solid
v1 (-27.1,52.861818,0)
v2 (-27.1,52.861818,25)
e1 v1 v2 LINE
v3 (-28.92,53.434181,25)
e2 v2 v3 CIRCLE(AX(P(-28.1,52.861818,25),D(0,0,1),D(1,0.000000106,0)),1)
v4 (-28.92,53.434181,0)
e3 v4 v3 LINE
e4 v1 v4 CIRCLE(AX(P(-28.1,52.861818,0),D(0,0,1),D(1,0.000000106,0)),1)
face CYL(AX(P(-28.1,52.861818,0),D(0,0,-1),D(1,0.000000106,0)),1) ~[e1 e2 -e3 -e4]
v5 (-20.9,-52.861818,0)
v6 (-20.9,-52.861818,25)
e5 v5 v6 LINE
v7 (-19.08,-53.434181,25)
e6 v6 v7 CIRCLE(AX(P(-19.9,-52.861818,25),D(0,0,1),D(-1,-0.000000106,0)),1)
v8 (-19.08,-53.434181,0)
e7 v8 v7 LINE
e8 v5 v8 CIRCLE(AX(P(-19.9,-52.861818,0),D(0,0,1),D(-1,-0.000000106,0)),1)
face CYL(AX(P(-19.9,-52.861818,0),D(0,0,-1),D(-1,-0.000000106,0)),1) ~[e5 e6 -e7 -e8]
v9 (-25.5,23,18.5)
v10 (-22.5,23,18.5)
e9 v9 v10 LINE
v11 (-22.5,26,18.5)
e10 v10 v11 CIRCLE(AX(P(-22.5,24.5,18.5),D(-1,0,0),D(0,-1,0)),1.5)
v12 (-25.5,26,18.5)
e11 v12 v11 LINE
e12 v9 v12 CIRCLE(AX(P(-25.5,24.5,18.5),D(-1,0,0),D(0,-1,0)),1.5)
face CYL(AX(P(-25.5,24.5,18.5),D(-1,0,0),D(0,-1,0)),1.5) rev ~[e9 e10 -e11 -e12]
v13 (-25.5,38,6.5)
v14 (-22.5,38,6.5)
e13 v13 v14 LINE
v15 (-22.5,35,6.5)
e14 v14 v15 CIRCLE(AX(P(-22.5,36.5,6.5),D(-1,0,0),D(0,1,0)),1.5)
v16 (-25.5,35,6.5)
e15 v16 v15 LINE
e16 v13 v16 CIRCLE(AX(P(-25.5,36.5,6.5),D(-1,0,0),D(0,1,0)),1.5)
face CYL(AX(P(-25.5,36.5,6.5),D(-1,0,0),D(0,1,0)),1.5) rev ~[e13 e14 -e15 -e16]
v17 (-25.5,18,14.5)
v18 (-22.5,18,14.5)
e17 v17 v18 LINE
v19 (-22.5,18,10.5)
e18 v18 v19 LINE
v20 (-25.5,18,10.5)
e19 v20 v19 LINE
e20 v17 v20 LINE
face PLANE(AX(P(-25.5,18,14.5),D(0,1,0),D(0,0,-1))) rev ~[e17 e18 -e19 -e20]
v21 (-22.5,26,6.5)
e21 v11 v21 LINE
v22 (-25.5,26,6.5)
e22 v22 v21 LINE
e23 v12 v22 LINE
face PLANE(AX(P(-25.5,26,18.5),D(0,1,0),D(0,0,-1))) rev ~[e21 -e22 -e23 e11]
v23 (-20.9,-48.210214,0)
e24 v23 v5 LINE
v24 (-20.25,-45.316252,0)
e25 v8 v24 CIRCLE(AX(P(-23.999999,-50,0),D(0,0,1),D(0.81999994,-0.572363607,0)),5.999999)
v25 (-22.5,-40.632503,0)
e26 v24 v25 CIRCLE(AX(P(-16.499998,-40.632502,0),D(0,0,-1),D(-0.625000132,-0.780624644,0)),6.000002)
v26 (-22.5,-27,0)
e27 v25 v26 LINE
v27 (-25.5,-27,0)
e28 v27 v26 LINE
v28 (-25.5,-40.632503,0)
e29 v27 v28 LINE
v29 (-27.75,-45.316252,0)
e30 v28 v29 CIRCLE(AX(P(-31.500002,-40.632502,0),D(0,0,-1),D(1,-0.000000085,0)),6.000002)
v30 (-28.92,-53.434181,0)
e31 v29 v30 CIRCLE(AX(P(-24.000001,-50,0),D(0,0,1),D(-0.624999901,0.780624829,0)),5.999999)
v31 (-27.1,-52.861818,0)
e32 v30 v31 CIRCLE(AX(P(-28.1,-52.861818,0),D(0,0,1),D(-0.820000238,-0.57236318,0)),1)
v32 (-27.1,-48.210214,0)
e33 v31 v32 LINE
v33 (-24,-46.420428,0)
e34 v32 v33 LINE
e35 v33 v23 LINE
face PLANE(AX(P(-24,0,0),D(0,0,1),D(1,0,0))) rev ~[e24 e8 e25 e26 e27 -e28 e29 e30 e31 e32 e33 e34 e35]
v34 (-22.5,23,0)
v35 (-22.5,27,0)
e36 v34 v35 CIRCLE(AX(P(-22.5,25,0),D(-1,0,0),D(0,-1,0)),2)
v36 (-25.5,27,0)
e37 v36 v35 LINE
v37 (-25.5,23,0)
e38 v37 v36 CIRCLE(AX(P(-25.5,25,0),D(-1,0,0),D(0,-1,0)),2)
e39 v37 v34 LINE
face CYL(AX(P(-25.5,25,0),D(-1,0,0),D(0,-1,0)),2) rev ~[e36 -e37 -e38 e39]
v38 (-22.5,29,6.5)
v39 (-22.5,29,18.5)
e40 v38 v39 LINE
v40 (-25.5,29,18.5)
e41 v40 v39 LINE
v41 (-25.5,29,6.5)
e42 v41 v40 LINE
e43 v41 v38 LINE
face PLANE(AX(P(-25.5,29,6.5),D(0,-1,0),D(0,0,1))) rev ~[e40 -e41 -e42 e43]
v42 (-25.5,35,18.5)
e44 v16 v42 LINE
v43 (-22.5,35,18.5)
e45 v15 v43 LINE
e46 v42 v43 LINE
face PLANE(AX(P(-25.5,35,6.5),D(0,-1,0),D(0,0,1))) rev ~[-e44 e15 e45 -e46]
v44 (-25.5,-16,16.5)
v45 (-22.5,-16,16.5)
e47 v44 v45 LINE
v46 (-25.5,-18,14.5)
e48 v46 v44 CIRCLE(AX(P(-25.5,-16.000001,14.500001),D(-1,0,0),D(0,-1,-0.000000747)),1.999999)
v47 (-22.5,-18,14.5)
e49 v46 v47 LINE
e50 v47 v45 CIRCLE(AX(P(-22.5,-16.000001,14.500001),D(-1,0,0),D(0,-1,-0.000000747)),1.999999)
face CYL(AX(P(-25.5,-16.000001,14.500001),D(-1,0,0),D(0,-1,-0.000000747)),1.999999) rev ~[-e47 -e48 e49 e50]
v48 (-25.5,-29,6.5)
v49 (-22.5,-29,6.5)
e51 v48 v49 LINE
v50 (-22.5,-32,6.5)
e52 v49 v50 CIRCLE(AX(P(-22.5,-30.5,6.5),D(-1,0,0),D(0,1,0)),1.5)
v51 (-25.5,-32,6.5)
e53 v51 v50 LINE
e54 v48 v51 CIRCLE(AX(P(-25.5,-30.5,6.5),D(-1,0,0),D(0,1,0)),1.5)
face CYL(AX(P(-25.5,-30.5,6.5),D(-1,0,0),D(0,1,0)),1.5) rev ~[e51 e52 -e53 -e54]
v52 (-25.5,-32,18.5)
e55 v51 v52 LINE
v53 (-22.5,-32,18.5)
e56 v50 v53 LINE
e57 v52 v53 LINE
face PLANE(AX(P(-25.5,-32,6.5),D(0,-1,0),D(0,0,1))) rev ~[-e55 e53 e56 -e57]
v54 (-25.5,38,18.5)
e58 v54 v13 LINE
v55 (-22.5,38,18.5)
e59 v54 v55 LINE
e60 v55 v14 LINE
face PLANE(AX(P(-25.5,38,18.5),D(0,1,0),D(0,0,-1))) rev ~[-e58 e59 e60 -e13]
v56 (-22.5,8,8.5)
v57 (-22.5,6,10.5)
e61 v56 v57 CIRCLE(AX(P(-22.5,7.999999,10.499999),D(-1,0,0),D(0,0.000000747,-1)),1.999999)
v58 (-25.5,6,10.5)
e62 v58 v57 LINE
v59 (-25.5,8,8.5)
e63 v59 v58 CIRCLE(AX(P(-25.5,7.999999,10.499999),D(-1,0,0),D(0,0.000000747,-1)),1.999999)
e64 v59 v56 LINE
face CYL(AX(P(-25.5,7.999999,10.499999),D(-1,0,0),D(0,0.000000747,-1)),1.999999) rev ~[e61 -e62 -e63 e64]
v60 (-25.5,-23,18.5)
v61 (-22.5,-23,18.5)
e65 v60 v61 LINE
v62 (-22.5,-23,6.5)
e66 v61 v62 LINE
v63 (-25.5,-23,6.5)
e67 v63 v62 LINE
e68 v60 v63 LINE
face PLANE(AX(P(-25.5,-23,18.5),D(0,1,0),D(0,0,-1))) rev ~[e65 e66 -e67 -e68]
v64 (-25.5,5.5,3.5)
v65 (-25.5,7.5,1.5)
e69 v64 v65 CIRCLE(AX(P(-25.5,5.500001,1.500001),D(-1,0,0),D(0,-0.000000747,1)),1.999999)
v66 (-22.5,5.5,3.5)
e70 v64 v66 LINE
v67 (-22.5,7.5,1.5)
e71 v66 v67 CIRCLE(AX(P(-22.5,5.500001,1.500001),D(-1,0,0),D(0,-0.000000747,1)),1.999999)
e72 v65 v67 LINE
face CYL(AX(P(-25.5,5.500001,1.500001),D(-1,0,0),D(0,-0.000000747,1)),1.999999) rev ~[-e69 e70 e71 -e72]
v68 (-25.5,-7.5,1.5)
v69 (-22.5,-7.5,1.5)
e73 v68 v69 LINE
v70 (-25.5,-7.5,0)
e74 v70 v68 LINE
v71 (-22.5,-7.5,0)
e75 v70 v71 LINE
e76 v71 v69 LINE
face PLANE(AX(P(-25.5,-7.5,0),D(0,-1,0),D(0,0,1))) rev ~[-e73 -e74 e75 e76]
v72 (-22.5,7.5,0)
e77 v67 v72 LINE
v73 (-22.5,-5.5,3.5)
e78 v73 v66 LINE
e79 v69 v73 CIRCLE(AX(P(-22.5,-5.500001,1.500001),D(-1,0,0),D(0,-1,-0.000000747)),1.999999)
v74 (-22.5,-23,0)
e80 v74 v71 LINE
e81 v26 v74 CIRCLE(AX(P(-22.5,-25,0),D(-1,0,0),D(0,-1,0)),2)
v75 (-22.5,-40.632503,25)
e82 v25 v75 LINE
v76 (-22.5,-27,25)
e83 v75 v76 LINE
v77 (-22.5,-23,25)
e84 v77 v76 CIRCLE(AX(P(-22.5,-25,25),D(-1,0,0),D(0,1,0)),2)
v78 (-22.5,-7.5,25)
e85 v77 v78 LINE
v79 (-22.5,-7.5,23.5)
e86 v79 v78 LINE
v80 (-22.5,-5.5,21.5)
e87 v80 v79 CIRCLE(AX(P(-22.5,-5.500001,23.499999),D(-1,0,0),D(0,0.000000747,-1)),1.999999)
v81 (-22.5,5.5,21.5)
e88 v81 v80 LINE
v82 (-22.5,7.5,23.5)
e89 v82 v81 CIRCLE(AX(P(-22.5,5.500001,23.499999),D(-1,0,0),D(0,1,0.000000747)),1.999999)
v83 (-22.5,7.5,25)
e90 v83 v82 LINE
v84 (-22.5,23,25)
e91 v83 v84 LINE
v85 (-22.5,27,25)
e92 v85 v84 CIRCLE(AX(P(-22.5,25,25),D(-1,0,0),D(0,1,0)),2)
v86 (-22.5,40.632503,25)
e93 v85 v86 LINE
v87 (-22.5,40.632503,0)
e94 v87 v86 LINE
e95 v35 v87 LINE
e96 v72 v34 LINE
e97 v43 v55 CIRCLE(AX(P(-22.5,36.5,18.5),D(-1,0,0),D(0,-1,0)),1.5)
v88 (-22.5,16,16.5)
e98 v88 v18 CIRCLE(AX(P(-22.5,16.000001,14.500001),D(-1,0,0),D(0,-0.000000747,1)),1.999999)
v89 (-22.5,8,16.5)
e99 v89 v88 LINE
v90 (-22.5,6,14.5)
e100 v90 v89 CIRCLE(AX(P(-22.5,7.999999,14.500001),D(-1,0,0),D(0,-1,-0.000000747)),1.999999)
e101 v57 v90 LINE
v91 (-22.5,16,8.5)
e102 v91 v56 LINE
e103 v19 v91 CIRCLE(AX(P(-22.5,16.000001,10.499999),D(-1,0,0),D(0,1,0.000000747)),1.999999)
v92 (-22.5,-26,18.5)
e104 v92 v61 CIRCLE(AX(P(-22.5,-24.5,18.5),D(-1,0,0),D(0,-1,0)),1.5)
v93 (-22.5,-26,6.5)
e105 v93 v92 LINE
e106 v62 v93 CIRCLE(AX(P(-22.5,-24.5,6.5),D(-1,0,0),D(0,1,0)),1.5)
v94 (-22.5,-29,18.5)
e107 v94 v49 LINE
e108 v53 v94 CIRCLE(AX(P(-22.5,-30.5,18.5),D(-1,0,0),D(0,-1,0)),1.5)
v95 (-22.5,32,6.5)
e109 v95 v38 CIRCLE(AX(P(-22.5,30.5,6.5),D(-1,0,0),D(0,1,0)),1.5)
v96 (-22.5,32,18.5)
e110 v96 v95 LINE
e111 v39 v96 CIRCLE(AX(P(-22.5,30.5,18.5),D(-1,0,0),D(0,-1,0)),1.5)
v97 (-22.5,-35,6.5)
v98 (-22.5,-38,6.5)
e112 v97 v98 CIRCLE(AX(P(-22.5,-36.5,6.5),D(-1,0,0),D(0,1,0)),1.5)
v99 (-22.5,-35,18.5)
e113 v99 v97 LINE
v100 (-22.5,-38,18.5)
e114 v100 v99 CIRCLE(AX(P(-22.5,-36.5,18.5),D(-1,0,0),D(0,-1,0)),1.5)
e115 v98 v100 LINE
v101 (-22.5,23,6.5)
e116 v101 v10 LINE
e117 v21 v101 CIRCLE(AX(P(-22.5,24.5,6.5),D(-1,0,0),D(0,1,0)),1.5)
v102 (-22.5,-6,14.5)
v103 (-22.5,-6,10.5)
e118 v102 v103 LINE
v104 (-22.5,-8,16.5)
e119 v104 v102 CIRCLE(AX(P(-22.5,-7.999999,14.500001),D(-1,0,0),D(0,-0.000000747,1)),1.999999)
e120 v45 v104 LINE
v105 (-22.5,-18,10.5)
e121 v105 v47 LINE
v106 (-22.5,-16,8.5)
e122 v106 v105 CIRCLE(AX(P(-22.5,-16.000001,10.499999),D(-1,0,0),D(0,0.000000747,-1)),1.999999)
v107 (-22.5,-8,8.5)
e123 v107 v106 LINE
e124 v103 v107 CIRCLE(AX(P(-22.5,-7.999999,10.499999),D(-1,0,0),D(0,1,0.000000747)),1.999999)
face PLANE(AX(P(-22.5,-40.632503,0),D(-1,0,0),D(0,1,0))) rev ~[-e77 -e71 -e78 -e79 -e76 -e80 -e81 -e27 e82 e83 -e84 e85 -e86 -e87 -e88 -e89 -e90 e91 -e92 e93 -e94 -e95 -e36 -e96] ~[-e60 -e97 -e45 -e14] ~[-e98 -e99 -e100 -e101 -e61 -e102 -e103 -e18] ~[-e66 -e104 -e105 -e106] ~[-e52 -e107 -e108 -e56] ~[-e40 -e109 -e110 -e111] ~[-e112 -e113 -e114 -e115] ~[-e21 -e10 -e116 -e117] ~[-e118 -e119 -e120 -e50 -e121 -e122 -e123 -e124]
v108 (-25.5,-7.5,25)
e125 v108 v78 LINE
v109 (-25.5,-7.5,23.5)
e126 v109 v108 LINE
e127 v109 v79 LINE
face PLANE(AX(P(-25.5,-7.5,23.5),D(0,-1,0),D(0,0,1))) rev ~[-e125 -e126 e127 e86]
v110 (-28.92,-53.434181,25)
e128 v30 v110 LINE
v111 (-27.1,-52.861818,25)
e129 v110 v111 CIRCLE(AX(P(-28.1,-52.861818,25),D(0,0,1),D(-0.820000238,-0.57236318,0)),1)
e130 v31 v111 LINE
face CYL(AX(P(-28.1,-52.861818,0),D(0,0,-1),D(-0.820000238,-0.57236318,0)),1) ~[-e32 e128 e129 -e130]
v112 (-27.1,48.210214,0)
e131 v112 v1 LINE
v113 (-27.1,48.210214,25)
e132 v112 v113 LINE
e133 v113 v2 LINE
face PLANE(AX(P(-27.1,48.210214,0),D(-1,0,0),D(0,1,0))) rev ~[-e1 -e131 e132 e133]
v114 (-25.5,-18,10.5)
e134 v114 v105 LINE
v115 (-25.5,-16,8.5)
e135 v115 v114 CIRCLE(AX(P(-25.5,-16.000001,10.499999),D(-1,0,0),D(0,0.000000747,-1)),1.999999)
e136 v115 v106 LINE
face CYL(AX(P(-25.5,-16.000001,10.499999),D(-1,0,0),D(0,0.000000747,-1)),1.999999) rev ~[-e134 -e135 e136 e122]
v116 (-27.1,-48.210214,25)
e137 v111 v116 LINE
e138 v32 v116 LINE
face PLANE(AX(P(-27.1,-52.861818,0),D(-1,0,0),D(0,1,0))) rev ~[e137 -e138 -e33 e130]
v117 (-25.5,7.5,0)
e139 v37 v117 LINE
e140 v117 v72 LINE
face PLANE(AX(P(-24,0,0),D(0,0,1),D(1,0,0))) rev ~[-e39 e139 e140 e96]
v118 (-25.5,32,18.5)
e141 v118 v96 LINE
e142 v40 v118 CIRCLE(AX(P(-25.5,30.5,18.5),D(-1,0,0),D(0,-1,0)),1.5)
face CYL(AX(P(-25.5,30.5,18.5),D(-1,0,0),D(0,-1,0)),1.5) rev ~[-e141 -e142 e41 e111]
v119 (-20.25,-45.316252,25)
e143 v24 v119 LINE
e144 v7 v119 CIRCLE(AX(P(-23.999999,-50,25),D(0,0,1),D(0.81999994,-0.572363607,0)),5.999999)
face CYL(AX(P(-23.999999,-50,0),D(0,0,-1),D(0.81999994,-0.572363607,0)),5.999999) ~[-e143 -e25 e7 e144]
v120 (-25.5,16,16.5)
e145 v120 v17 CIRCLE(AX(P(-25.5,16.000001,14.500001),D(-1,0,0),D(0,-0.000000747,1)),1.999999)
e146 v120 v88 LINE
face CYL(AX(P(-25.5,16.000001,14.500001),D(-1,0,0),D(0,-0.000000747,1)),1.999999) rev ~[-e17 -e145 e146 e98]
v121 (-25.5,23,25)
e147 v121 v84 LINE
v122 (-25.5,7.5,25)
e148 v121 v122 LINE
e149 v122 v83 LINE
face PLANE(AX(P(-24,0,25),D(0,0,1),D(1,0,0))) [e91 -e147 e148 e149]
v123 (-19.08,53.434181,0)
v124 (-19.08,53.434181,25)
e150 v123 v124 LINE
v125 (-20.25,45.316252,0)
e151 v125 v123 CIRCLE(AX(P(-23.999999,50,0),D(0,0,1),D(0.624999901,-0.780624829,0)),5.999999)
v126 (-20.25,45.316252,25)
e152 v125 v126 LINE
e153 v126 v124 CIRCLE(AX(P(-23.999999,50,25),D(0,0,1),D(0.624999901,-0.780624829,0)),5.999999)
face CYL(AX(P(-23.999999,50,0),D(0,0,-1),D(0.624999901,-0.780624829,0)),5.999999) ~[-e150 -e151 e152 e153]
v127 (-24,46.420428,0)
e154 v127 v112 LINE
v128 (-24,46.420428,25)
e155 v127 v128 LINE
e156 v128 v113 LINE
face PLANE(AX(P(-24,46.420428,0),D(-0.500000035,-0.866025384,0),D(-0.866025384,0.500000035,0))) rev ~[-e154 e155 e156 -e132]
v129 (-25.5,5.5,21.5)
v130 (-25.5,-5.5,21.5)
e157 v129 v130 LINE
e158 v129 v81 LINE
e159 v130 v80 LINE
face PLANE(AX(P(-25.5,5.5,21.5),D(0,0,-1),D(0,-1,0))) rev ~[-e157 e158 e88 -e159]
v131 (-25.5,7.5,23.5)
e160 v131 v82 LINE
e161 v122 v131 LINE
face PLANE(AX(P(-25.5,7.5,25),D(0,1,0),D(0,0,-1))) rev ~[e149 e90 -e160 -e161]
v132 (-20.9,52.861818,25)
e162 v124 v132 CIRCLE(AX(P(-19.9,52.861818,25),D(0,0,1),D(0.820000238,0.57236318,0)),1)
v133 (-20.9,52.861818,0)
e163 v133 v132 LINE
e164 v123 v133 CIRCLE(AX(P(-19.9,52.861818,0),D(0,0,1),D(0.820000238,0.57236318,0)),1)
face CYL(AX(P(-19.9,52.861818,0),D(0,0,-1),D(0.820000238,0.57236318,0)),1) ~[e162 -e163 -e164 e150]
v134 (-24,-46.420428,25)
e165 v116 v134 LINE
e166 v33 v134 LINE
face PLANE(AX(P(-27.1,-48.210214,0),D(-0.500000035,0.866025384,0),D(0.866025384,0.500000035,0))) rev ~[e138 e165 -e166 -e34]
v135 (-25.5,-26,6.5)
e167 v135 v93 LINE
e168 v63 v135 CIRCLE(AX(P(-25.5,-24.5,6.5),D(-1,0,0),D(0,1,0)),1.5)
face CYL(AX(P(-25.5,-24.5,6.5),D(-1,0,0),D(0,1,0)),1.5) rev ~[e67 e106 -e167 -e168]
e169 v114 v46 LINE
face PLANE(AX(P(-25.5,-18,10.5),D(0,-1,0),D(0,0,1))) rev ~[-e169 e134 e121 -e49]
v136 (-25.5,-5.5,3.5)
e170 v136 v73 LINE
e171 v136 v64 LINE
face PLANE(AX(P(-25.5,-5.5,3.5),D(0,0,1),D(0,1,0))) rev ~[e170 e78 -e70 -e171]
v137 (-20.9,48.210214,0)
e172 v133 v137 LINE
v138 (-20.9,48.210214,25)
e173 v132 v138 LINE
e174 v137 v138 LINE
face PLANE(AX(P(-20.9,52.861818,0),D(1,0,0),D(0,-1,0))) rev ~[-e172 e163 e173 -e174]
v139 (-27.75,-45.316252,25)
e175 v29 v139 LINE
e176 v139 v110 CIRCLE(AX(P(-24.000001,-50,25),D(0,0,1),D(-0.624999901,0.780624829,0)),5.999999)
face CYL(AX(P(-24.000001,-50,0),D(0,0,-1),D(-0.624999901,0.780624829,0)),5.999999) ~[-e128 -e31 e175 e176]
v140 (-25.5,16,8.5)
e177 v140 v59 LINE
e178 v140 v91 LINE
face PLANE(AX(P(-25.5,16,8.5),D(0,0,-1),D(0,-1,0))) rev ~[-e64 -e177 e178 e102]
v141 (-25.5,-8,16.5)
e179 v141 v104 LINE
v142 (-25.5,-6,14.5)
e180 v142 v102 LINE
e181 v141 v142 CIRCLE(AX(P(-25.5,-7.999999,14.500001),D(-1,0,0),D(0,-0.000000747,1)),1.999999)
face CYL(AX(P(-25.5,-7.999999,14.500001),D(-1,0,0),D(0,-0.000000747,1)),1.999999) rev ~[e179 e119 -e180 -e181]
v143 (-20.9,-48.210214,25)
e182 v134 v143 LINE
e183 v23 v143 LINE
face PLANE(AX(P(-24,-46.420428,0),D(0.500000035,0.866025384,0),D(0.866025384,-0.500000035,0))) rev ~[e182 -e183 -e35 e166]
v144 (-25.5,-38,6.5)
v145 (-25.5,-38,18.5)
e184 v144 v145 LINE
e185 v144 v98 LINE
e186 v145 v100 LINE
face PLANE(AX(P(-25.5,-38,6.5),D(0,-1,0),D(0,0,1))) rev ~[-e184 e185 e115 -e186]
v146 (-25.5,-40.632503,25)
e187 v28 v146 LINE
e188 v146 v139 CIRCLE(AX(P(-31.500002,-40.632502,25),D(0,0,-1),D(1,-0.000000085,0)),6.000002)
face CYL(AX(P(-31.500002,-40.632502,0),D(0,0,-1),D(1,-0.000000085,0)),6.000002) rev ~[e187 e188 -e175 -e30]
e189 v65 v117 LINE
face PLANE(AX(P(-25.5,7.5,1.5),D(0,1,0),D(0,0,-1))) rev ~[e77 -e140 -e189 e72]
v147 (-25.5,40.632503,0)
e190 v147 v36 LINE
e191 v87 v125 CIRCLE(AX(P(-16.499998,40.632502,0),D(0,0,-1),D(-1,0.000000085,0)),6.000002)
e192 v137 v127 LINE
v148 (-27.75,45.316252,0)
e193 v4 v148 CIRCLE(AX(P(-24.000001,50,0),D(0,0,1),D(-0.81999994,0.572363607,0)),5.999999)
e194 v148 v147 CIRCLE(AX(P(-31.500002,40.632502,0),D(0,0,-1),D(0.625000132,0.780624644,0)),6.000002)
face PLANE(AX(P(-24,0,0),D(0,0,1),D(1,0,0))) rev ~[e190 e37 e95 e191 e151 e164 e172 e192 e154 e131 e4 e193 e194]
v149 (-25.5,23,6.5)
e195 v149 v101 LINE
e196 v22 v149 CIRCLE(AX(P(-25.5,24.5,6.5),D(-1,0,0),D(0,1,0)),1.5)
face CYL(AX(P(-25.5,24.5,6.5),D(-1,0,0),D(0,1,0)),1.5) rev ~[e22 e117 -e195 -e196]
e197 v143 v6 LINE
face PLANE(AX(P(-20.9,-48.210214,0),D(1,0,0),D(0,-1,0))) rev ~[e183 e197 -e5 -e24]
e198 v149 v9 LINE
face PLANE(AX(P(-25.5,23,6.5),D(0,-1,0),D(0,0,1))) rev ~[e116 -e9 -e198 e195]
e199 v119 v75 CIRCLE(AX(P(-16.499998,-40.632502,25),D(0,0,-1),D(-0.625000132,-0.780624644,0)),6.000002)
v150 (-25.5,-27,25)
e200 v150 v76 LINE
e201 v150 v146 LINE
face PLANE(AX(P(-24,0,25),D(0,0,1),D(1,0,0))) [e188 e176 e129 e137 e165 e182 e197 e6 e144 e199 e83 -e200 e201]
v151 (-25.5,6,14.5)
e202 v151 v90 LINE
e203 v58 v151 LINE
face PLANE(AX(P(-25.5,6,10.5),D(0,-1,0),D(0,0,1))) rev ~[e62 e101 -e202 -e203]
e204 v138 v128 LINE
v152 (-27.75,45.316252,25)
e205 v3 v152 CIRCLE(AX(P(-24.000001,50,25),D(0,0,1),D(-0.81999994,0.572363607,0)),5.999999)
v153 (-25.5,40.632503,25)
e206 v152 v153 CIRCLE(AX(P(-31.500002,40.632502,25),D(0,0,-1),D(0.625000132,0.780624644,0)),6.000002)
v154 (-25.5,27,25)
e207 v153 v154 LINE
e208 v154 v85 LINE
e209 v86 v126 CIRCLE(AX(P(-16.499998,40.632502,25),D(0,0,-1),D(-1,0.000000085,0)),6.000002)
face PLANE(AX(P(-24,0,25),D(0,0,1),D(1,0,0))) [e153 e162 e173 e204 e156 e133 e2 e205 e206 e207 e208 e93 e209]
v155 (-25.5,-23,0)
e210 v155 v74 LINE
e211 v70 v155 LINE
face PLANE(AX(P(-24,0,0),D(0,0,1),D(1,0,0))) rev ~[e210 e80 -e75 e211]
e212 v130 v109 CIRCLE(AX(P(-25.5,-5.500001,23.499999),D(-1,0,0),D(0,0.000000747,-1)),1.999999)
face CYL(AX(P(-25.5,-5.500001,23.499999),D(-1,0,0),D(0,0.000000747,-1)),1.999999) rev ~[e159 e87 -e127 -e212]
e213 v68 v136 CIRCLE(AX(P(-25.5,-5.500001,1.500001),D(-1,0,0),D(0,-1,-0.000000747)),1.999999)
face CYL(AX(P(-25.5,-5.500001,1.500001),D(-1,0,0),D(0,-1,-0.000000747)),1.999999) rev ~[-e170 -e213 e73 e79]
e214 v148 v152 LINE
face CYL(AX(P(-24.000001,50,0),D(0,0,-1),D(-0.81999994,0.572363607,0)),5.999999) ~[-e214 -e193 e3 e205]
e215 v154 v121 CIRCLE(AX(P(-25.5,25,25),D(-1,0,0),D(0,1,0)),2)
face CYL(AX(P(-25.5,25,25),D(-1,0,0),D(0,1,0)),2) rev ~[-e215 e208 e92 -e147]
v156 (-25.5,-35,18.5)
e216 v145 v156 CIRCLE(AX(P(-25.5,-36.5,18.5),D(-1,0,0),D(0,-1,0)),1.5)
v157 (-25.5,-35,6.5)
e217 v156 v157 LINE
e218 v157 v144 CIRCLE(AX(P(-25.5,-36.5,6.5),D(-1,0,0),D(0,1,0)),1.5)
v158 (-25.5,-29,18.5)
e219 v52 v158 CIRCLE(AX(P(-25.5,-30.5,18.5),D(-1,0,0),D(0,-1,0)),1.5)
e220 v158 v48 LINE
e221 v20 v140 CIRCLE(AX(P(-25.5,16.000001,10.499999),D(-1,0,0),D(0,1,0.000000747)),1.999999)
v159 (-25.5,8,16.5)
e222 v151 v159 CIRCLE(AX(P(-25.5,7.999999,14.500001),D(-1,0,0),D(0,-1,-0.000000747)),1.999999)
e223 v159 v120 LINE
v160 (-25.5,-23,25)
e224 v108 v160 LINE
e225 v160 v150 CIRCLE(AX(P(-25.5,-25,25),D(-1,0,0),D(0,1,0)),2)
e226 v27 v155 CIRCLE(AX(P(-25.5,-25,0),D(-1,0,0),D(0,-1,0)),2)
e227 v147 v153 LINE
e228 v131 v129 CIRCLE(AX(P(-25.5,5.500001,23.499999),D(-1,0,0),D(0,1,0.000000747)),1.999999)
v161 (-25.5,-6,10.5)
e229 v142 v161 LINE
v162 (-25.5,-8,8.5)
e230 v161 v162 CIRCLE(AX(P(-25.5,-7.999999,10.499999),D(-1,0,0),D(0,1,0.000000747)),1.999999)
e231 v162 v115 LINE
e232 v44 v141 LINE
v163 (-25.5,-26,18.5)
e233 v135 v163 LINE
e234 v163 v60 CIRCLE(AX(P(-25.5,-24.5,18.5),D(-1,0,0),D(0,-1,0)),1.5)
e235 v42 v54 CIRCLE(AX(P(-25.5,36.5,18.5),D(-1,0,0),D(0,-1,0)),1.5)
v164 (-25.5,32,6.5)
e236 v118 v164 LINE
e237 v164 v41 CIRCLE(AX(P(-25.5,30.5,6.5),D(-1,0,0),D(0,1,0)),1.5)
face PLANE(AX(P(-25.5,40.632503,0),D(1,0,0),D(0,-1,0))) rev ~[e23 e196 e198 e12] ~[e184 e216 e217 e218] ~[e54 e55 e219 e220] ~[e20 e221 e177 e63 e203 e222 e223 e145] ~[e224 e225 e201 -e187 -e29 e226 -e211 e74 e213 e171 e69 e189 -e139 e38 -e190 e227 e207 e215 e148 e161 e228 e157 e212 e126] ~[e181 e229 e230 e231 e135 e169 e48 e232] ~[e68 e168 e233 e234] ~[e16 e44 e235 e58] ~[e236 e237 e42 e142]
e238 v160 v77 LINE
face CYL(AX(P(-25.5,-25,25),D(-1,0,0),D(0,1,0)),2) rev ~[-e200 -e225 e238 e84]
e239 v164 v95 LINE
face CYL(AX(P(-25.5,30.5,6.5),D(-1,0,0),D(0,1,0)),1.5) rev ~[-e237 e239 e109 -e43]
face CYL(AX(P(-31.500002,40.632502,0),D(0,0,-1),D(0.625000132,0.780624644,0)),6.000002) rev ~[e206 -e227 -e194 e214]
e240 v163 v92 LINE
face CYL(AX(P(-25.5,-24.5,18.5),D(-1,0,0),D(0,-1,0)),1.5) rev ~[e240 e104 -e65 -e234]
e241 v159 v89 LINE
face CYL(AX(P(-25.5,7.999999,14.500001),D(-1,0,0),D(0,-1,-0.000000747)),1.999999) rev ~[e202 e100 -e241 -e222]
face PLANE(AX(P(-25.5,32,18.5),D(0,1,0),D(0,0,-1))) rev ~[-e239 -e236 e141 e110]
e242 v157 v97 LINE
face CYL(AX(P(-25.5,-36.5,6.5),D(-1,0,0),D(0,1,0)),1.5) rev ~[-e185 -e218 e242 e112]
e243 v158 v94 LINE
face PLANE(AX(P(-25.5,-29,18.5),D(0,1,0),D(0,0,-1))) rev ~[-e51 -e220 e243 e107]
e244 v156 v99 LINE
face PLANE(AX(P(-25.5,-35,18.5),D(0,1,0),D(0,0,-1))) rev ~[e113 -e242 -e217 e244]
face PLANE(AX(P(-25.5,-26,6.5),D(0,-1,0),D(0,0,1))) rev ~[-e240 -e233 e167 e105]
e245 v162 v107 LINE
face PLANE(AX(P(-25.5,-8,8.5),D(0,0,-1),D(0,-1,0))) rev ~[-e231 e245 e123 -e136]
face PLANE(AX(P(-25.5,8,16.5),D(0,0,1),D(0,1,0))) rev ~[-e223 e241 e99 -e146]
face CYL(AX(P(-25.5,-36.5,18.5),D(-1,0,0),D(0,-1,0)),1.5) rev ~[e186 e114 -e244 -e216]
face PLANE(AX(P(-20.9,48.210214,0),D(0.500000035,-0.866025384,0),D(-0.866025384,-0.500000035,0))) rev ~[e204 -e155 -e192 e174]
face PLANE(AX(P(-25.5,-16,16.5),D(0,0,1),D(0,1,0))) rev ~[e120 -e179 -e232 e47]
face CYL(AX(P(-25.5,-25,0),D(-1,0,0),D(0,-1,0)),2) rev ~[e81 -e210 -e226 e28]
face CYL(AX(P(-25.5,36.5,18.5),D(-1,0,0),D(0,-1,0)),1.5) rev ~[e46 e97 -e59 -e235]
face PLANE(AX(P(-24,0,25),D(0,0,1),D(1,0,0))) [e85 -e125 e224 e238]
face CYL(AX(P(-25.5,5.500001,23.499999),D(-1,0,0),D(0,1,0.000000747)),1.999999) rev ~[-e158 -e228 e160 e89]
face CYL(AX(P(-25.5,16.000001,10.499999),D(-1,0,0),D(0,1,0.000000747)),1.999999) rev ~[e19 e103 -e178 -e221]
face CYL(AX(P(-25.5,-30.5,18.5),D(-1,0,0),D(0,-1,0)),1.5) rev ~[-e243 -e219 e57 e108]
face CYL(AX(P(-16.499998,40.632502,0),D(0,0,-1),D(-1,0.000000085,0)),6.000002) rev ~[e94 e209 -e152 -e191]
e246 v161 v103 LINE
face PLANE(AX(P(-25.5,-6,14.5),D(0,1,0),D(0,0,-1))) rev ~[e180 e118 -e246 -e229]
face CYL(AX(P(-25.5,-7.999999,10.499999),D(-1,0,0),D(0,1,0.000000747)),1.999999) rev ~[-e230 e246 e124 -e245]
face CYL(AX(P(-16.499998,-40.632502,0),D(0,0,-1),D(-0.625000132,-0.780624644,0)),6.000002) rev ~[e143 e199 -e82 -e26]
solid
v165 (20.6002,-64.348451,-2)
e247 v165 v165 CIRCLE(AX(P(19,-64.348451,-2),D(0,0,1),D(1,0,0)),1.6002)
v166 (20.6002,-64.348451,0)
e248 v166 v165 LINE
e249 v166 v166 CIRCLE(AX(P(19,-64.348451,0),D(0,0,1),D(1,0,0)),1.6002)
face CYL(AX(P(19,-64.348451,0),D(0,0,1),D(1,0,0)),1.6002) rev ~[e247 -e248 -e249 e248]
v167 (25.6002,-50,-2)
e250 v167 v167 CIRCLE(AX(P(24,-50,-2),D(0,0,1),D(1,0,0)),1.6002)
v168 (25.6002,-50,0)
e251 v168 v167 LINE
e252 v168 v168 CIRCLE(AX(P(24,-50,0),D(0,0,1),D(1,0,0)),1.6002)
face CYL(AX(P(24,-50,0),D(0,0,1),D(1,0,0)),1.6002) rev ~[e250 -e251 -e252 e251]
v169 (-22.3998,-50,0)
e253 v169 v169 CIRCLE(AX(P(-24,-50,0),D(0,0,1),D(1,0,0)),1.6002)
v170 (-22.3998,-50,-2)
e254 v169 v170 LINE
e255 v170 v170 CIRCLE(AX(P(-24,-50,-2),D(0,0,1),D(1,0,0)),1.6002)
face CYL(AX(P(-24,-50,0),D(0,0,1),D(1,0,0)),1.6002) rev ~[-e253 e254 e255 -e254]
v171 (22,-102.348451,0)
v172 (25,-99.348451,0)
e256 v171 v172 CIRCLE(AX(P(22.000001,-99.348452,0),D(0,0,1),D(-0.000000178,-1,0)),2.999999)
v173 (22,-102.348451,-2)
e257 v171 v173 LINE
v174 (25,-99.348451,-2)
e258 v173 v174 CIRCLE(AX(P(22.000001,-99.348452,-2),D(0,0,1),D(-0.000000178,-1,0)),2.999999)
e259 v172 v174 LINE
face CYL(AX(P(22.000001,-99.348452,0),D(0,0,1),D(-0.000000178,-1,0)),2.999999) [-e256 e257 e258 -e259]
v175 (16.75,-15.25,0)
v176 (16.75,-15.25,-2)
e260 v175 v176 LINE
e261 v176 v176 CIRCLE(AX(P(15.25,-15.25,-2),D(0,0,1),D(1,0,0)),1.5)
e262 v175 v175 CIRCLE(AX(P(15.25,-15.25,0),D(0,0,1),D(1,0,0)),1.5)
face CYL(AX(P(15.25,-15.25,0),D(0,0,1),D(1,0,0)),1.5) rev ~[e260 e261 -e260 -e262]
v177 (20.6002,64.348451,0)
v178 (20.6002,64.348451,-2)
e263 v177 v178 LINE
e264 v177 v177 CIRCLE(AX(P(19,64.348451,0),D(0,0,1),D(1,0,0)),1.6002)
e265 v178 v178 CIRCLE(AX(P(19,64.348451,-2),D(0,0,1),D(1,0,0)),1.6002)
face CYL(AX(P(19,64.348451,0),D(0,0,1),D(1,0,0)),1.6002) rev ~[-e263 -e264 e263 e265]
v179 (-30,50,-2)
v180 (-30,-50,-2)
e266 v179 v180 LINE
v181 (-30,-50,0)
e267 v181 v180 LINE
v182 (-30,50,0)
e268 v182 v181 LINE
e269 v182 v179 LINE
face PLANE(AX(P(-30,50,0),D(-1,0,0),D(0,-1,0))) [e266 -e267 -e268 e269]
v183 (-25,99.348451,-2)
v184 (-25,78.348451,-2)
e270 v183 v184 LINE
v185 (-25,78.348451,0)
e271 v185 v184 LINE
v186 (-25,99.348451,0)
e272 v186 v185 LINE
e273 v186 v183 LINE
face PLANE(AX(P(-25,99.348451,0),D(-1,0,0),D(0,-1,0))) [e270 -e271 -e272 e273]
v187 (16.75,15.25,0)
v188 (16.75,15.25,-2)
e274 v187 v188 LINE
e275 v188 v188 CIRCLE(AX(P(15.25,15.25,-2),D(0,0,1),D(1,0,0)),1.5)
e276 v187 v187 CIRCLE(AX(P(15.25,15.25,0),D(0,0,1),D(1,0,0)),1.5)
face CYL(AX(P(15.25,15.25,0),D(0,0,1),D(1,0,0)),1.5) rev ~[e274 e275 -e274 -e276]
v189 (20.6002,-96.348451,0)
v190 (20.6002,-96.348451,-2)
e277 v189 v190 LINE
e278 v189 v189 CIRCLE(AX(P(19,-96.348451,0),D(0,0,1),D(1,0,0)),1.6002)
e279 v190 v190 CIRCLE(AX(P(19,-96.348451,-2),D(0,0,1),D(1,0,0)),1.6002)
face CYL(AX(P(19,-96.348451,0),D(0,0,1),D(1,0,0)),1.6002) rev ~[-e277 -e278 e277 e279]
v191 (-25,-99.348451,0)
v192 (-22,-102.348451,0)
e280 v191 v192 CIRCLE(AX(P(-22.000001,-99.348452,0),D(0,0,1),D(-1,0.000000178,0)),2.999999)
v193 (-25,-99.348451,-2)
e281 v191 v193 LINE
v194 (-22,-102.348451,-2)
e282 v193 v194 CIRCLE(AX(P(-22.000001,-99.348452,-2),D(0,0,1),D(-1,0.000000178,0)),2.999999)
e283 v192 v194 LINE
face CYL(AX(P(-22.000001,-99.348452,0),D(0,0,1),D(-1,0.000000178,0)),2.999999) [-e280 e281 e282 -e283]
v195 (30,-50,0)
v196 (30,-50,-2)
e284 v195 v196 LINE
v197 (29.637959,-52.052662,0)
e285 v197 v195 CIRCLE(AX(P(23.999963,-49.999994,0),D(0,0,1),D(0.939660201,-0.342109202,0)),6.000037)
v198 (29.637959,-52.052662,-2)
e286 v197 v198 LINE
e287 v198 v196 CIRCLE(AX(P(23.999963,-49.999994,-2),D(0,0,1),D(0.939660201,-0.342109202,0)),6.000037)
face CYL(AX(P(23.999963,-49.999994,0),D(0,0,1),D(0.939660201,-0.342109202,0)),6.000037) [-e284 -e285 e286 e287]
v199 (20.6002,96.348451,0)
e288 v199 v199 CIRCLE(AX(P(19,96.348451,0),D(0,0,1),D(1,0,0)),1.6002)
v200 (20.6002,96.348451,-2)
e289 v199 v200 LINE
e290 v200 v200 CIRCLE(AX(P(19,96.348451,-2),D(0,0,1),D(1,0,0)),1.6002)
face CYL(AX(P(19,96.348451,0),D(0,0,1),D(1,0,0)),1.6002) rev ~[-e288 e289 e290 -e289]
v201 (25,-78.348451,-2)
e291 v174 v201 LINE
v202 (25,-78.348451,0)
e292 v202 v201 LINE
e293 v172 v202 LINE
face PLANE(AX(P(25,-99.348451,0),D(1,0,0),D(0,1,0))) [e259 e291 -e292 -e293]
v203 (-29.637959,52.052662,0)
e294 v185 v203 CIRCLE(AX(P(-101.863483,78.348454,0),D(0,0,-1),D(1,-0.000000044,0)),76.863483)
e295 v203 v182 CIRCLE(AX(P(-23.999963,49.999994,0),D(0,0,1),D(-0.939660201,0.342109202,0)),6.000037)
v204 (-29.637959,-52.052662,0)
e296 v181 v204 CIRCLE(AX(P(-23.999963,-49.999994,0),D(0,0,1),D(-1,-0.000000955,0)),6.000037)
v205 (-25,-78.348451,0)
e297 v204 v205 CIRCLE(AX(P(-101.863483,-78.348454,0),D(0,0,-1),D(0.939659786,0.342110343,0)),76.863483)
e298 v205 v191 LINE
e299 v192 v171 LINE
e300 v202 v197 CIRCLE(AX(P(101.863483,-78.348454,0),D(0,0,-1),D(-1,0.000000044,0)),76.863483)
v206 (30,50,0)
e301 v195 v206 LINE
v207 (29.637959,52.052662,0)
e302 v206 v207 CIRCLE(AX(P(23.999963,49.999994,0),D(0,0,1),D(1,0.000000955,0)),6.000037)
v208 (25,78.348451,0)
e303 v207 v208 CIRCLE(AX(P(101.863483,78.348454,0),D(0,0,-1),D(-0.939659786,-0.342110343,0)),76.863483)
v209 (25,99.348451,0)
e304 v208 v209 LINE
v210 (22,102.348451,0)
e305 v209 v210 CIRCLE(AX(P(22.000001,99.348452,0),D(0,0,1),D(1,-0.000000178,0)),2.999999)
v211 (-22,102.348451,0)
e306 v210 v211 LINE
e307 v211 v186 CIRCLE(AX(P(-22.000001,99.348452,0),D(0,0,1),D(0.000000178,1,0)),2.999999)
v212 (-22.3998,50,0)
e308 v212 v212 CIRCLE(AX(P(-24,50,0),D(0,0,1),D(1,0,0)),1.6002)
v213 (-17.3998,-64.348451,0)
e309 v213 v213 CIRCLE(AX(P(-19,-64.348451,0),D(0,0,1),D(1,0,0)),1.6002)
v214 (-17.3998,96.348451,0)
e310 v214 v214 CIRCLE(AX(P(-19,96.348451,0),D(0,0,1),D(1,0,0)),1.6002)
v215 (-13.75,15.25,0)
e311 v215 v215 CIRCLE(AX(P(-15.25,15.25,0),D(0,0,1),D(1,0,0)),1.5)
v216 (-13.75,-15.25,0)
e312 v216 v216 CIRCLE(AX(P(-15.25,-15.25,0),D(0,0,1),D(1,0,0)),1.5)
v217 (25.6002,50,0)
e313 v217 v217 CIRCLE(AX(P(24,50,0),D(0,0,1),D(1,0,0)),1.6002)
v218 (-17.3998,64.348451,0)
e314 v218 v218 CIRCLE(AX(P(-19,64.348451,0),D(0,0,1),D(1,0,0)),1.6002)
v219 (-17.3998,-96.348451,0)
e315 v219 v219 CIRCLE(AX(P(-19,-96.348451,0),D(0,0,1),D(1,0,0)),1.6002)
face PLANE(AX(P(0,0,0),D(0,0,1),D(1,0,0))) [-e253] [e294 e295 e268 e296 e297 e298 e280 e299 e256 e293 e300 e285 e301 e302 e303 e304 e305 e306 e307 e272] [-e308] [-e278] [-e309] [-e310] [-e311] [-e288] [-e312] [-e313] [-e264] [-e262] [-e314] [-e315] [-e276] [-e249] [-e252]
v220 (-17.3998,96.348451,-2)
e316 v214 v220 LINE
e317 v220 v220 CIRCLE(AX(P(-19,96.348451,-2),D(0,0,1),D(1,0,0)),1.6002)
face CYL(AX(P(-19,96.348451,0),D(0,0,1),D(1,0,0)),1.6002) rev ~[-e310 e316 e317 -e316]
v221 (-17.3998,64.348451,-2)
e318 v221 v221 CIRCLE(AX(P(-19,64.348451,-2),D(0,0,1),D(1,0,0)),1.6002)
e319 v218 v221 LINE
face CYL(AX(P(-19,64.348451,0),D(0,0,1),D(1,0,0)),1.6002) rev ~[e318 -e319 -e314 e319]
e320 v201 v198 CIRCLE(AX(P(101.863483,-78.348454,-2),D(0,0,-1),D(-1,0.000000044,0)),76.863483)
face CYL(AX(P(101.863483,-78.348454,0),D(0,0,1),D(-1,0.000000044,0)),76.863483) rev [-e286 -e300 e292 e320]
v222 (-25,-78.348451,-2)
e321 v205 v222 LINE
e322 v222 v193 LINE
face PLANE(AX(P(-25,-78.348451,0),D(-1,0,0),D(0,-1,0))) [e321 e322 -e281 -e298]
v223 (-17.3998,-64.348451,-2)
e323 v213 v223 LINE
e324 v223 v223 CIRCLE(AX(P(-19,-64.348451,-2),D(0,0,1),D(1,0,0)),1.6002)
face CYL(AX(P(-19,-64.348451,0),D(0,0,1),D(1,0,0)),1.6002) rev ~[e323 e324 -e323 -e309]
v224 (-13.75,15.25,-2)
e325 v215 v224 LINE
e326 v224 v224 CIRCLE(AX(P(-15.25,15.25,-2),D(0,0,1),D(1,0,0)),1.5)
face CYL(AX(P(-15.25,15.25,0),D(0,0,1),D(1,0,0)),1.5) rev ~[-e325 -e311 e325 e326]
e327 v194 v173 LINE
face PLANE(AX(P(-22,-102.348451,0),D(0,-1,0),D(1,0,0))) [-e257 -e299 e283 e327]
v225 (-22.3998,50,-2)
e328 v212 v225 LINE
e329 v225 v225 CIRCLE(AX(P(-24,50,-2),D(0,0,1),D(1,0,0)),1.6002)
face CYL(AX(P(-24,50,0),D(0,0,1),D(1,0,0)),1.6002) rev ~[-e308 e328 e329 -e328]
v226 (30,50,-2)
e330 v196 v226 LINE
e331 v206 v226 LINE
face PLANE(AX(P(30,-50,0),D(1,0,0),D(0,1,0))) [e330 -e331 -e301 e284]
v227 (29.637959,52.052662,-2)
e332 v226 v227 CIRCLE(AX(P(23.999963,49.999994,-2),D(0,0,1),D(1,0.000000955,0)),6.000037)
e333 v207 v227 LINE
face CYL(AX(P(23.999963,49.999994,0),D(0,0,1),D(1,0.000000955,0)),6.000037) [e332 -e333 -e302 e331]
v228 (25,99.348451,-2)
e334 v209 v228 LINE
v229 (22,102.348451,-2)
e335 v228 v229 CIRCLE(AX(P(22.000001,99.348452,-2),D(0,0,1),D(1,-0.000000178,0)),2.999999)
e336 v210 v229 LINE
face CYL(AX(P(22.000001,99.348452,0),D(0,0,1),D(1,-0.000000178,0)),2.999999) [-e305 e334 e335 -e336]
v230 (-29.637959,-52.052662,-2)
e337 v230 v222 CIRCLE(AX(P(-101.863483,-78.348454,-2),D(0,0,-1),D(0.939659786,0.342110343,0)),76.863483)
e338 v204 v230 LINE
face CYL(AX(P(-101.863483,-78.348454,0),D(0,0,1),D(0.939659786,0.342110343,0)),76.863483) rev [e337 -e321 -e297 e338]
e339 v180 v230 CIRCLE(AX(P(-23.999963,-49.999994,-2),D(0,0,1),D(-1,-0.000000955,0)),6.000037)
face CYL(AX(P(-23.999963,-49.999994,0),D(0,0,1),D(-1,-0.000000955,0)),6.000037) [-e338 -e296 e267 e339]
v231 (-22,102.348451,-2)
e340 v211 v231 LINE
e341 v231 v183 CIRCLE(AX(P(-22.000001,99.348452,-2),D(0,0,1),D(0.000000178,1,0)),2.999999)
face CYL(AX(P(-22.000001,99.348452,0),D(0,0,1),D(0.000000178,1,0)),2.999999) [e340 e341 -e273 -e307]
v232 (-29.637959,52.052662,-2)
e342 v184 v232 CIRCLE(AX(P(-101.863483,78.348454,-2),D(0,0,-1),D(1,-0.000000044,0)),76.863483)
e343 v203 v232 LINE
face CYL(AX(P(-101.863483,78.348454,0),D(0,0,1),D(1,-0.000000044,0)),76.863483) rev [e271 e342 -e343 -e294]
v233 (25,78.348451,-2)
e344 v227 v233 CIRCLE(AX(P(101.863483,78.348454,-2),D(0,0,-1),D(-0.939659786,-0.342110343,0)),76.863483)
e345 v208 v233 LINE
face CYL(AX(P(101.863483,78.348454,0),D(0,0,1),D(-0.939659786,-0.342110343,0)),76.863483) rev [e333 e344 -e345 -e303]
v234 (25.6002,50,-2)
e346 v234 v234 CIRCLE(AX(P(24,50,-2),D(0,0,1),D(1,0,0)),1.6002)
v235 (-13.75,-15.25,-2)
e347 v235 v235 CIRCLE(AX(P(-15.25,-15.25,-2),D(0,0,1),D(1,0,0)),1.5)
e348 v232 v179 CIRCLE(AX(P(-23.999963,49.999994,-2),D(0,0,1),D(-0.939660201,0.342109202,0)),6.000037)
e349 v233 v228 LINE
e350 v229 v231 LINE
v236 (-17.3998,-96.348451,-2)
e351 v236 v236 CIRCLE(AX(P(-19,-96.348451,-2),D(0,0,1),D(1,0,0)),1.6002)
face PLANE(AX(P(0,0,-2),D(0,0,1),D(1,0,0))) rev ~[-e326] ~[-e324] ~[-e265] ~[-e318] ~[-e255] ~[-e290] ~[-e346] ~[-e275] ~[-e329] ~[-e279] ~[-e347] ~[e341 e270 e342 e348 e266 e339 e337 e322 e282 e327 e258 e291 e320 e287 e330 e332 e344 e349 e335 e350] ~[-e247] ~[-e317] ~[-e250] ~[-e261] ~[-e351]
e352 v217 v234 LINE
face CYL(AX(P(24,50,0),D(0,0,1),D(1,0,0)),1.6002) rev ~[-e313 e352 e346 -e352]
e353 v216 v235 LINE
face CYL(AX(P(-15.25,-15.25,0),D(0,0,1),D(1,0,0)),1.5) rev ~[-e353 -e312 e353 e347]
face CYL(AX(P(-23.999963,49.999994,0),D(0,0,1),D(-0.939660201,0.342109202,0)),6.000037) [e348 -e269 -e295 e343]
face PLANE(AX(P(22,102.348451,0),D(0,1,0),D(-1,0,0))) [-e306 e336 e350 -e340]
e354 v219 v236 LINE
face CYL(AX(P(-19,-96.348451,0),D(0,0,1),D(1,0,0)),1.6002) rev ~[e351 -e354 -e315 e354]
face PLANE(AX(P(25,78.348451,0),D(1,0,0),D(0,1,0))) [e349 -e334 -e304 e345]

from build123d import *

# Parameters (mm, degrees)
F1_DEPTH  = 2
F2_R      = 1.6002
F2_R_2    = 1.5
F3_DEPTH  = 2.001
F5_DEPTH  = 25
F7_DEPTH  = 3
F10_DEPTH = 4
F11_R     = 1.5
F12_DEPTH = 8


with BuildPart() as f1:
    # F0 (on Top) → F1 (new body)
    with BuildSketch(Plane.XY):
        with BuildLine():
            Line((22, 102.348451), (0, 102.348451))
            Line((0, 102.348451), (-22, 102.348451))
            ThreePointArc((-22, 102.348451), (-24.12132, 101.469772), (-25, 99.348451))
            Line((-25, 99.348451), (-25, 78.348451))
            ThreePointArc((-25, 78.348451), (-26.16837, 64.997616), (-29.637959, 52.052662))
            ThreePointArc((-29.637959, 52.052662), (-29.908796, 51.042173), (-30, 50))
            Line((-30, 50), (-30, -50))
            ThreePointArc((-30, -50), (-29.908796, -51.042173), (-29.637959, -52.052662))
            ThreePointArc((-29.637959, -52.052662), (-26.16837, -64.997616), (-25, -78.348451))
            Line((-25, -78.348451), (-25, -99.348451))
            ThreePointArc((-25, -99.348451), (-24.12132, -101.469772), (-22, -102.348451))
            Line((-22, -102.348451), (0, -102.348451))
            Line((0, -102.348451), (22, -102.348451))
            ThreePointArc((22, -102.348451), (24.12132, -101.469772), (25, -99.348451))
            Line((25, -99.348451), (25, -78.348451))
            ThreePointArc((25, -78.348451), (26.16837, -64.997616), (29.637959, -52.052662))
            ThreePointArc((29.637959, -52.052662), (29.908796, -51.042173), (30, -50))
            Line((30, -50), (30, 50))
            ThreePointArc((30, 50), (29.908796, 51.042173), (29.637959, 52.052662))
            ThreePointArc((29.637959, 52.052662), (26.16837, 64.997616), (25, 78.348451))
            Line((25, 78.348451), (25, 99.348451))
            ThreePointArc((25, 99.348451), (24.12132, 101.469772), (22, 102.348451))
        make_face()
    extrude(amount=-F1_DEPTH)

    # F2 (on face) → F3 (cut, through all)
    with BuildSketch(Plane.XY):
        with Locations((-19, 96.348451)):
            Circle(F2_R)
        with Locations((-19, 64.348451)):
            Circle(F2_R)
        with Locations((-19, -96.348451)):
            Circle(F2_R)
        with Locations((-19, -64.348451)):
            Circle(F2_R)
        with Locations((-24, -50)):
            Circle(F2_R)
        with Locations((-24, 50)):
            Circle(F2_R)
        with Locations((19, 96.348451)):
            Circle(F2_R)
        with Locations((19, 64.348451)):
            Circle(F2_R)
        with Locations((24, 50)):
            Circle(F2_R)
        with Locations((24, -50)):
            Circle(F2_R)
        with Locations((19, -64.348451)):
            Circle(F2_R)
        with Locations((19, -96.348451)):
            Circle(F2_R)
        with Locations((-15.25, -15.25)):
            Circle(F2_R_2)
        with Locations((-15.25, 15.25)):
            Circle(F2_R_2)
        with Locations((15.25, 15.25)):
            Circle(F2_R_2)
        with Locations((15.25, -15.25)):
            Circle(F2_R_2)
    extrude(amount=-F3_DEPTH, mode=Mode.SUBTRACT)


with BuildPart() as f5:
    # F4 (on Top) → F5 (new body)
    with BuildSketch(Plane.XY):
        with BuildLine():
            Line((-20.9, 52.861818), (-20.9, 51.789786))
            Line((-20.9, 51.789786), (-20.9, 48.210214))
            Line((-20.9, 48.210214), (-24, 46.420428))
            Line((-24, 46.420428), (-27.1, 48.210214))
            Line((-27.1, 48.210214), (-27.1, 51.789786))
            Line((-27.1, 51.789786), (-27.1, 52.861818))
            ThreePointArc((-27.1, 52.861818), (-27.8, 53.815757), (-28.92, 53.434181))
            ThreePointArc((-28.92, 53.434181), (-29.938638, 49.144091), (-27.75, 45.316252))
            ThreePointArc((-27.75, 45.316252), (-26.091673, 43.230579), (-25.5, 40.632503))
            Line((-25.5, 40.632503), (-25.5, -40.632503))
            ThreePointArc((-25.5, -40.632503), (-26.091673, -43.230579), (-27.75, -45.316252))
            ThreePointArc((-27.75, -45.316252), (-29.938638, -49.144091), (-28.92, -53.434181))
            ThreePointArc((-28.92, -53.434181), (-27.8, -53.815757), (-27.1, -52.861818))
            Line((-27.1, -52.861818), (-27.1, -51.789786))
            Line((-27.1, -51.789786), (-27.1, -48.210214))
            Line((-27.1, -48.210214), (-24, -46.420428))
            Line((-24, -46.420428), (-20.9, -48.210214))
            Line((-20.9, -48.210214), (-20.9, -51.789786))
            Line((-20.9, -51.789786), (-20.9, -52.861818))
            ThreePointArc((-20.9, -52.861818), (-20.2, -53.815757), (-19.08, -53.434181))
            ThreePointArc((-19.08, -53.434181), (-18.061362, -49.144091), (-20.25, -45.316252))
            ThreePointArc((-20.25, -45.316252), (-21.908327, -43.230579), (-22.5, -40.632503))
            Line((-22.5, -40.632503), (-22.5, 40.632503))
            ThreePointArc((-22.5, 40.632503), (-21.908327, 43.230579), (-20.25, 45.316252))
            ThreePointArc((-20.25, 45.316252), (-18.061362, 49.144091), (-19.08, 53.434181))
            ThreePointArc((-19.08, 53.434181), (-20.2, 53.815757), (-20.9, 52.861818))
        make_face()
    extrude(amount=F5_DEPTH)

    # F6 (on face) → F7 (cut, through all)
    with BuildSketch(Plane(origin=(-25.5, 0, 0), x_dir=(0, -1, 0), z_dir=(-1, 0, 0))):
        with BuildLine():
            ThreePointArc((-6, 14.5), (-6.585786, 15.914214), (-8, 16.5))
            Line((-8, 16.5), (-16, 16.5))
            ThreePointArc((-16, 16.5), (-17.414214, 15.914214), (-18, 14.5))
            Line((-18, 14.5), (-18, 10.5))
            ThreePointArc((-18, 10.5), (-17.414214, 9.085786), (-16, 8.5))
            Line((-16, 8.5), (-8, 8.5))
            ThreePointArc((-8, 8.5), (-6.585786, 9.085786), (-6, 10.5))
            Line((-6, 10.5), (-6, 14.5))
        make_face()
        with BuildLine():
            Line((-7.5, 1.5), (-7.5, 0))
            Line((-7.5, 0), (7.5, 0))
            Line((7.5, 0), (7.5, 1.5))
            ThreePointArc((7.5, 1.5), (6.914214, 2.914214), (5.5, 3.5))
            Line((5.5, 3.5), (-5.5, 3.5))
            ThreePointArc((-5.5, 3.5), (-6.914214, 2.914214), (-7.5, 1.5))
        make_face()
        with BuildLine():
            Line((-23, 25), (-27, 25))
            ThreePointArc((-27, 25), (-25, 23), (-23, 25))
        make_face()
        with BuildLine():
            Line((-27, 0), (-23, 0))
            ThreePointArc((-23, 0), (-25, 2), (-27, 0))
        make_face()
        with BuildLine():
            ThreePointArc((6, 10.5), (6.585786, 9.085786), (8, 8.5))
            Line((8, 8.5), (16, 8.5))
            ThreePointArc((16, 8.5), (17.414214, 9.085786), (18, 10.5))
            Line((18, 10.5), (18, 14.5))
            ThreePointArc((18, 14.5), (17.414214, 15.914214), (16, 16.5))
            Line((16, 16.5), (8, 16.5))
            ThreePointArc((8, 16.5), (6.585786, 15.914214), (6, 14.5))
            Line((6, 14.5), (6, 10.5))
        make_face()
        with BuildLine():
            ThreePointArc((23, 25), (25, 23), (27, 25))
            Line((27, 25), (23, 25))
        make_face()
        with BuildLine():
            Line((23, 0), (27, 0))
            ThreePointArc((27, 0), (25, 2), (23, 0))
        make_face()
        with BuildLine():
            ThreePointArc((-7.5, 23.5), (-6.914214, 22.085786), (-5.5, 21.5))
            Line((-5.5, 21.5), (5.5, 21.5))
            ThreePointArc((5.5, 21.5), (6.914214, 22.085786), (7.5, 23.5))
            Line((7.5, 23.5), (7.5, 25))
            Line((7.5, 25), (-7.5, 25))
            Line((-7.5, 25), (-7.5, 23.5))
        make_face()
        with BuildLine():
            Line((-38, 18.5), (-38, 6.5))
            ThreePointArc((-38, 6.5), (-36.5, 5), (-35, 6.5))
            Line((-35, 6.5), (-35, 18.5))
            ThreePointArc((-35, 18.5), (-36.5, 20), (-38, 18.5))
        make_face()
        with BuildLine():
            ThreePointArc((-32, 6.5), (-30.5, 5), (-29, 6.5))
            Line((-29, 6.5), (-29, 18.5))
            ThreePointArc((-29, 18.5), (-30.5, 20), (-32, 18.5))
            Line((-32, 18.5), (-32, 6.5))
        make_face()
        with BuildLine():
            ThreePointArc((-26, 6.5), (-24.5, 5), (-23, 6.5))
            Line((-23, 6.5), (-23, 18.5))
            ThreePointArc((-23, 18.5), (-24.5, 20), (-26, 18.5))
            Line((-26, 18.5), (-26, 6.5))
        make_face()
        with BuildLine():
            ThreePointArc((29, 6.5), (30.5, 5), (32, 6.5))
            Line((32, 6.5), (32, 18.5))
            ThreePointArc((32, 18.5), (30.5, 20), (29, 18.5))
            Line((29, 18.5), (29, 6.5))
        make_face()
        with BuildLine():
            ThreePointArc((35, 6.5), (36.5, 5), (38, 6.5))
            Line((38, 6.5), (38, 18.5))
            ThreePointArc((38, 18.5), (36.5, 20), (35, 18.5))
            Line((35, 18.5), (35, 6.5))
        make_face()
        with BuildLine():
            ThreePointArc((23, 6.5), (24.5, 5), (26, 6.5))
            Line((26, 6.5), (26, 18.5))
            ThreePointArc((26, 18.5), (24.5, 20), (23, 18.5))
            Line((23, 18.5), (23, 6.5))
        make_face()
    extrude(amount=-F7_DEPTH, mode=Mode.SUBTRACT)


with BuildPart() as f10:
    # F9 (on offset) → F10 (new body, symmetric)
    with BuildSketch(Plane.XY.offset(12.5)):
        with BuildLine():
            Line((-26.25, 19.75), (-26.25, 21.25))
            Line((-26.25, 21.25), (-27.75, 21.25))
            Line((-27.75, 21.25), (-27.75, 15.25))
            Line((-27.75, 15.25), (-27.75, 9.25))
            Line((-27.75, 9.25), (-26.25, 9.25))
            Line((-26.25, 9.25), (-26.25, 10.75))
            ThreePointArc((-26.25, 10.75), (-26.103553, 11.103553), (-25.75, 11.25))
            Line((-25.75, 11.25), (-19.25, 11.25))
            Line((-19.25, 11.25), (-18.25, 12.25))
            Line((-18.25, 12.25), (-15.25, 12.25))
            ThreePointArc((-15.25, 12.25), (-13.12868, 13.12868), (-12.25, 15.25))
            ThreePointArc((-12.25, 15.25), (-13.12868, 17.37132), (-15.25, 18.25))
            Line((-15.25, 18.25), (-18.25, 18.25))
            Line((-18.25, 18.25), (-19.25, 19.25))
            Line((-19.25, 19.25), (-25.75, 19.25))
            ThreePointArc((-25.75, 19.25), (-26.103553, 19.396447), (-26.25, 19.75))
        make_face()
    extrude(amount=F10_DEPTH, both=True)

    # F11 (on face) → F12 (cut, through all)
    with BuildSketch(Plane.XY.offset(16.5)):
        with Locations((-15.25, 15.25)):
            Circle(F11_R)
    extrude(amount=-F12_DEPTH, mode=Mode.SUBTRACT)


solid = Compound([f1.part, f5.part])
